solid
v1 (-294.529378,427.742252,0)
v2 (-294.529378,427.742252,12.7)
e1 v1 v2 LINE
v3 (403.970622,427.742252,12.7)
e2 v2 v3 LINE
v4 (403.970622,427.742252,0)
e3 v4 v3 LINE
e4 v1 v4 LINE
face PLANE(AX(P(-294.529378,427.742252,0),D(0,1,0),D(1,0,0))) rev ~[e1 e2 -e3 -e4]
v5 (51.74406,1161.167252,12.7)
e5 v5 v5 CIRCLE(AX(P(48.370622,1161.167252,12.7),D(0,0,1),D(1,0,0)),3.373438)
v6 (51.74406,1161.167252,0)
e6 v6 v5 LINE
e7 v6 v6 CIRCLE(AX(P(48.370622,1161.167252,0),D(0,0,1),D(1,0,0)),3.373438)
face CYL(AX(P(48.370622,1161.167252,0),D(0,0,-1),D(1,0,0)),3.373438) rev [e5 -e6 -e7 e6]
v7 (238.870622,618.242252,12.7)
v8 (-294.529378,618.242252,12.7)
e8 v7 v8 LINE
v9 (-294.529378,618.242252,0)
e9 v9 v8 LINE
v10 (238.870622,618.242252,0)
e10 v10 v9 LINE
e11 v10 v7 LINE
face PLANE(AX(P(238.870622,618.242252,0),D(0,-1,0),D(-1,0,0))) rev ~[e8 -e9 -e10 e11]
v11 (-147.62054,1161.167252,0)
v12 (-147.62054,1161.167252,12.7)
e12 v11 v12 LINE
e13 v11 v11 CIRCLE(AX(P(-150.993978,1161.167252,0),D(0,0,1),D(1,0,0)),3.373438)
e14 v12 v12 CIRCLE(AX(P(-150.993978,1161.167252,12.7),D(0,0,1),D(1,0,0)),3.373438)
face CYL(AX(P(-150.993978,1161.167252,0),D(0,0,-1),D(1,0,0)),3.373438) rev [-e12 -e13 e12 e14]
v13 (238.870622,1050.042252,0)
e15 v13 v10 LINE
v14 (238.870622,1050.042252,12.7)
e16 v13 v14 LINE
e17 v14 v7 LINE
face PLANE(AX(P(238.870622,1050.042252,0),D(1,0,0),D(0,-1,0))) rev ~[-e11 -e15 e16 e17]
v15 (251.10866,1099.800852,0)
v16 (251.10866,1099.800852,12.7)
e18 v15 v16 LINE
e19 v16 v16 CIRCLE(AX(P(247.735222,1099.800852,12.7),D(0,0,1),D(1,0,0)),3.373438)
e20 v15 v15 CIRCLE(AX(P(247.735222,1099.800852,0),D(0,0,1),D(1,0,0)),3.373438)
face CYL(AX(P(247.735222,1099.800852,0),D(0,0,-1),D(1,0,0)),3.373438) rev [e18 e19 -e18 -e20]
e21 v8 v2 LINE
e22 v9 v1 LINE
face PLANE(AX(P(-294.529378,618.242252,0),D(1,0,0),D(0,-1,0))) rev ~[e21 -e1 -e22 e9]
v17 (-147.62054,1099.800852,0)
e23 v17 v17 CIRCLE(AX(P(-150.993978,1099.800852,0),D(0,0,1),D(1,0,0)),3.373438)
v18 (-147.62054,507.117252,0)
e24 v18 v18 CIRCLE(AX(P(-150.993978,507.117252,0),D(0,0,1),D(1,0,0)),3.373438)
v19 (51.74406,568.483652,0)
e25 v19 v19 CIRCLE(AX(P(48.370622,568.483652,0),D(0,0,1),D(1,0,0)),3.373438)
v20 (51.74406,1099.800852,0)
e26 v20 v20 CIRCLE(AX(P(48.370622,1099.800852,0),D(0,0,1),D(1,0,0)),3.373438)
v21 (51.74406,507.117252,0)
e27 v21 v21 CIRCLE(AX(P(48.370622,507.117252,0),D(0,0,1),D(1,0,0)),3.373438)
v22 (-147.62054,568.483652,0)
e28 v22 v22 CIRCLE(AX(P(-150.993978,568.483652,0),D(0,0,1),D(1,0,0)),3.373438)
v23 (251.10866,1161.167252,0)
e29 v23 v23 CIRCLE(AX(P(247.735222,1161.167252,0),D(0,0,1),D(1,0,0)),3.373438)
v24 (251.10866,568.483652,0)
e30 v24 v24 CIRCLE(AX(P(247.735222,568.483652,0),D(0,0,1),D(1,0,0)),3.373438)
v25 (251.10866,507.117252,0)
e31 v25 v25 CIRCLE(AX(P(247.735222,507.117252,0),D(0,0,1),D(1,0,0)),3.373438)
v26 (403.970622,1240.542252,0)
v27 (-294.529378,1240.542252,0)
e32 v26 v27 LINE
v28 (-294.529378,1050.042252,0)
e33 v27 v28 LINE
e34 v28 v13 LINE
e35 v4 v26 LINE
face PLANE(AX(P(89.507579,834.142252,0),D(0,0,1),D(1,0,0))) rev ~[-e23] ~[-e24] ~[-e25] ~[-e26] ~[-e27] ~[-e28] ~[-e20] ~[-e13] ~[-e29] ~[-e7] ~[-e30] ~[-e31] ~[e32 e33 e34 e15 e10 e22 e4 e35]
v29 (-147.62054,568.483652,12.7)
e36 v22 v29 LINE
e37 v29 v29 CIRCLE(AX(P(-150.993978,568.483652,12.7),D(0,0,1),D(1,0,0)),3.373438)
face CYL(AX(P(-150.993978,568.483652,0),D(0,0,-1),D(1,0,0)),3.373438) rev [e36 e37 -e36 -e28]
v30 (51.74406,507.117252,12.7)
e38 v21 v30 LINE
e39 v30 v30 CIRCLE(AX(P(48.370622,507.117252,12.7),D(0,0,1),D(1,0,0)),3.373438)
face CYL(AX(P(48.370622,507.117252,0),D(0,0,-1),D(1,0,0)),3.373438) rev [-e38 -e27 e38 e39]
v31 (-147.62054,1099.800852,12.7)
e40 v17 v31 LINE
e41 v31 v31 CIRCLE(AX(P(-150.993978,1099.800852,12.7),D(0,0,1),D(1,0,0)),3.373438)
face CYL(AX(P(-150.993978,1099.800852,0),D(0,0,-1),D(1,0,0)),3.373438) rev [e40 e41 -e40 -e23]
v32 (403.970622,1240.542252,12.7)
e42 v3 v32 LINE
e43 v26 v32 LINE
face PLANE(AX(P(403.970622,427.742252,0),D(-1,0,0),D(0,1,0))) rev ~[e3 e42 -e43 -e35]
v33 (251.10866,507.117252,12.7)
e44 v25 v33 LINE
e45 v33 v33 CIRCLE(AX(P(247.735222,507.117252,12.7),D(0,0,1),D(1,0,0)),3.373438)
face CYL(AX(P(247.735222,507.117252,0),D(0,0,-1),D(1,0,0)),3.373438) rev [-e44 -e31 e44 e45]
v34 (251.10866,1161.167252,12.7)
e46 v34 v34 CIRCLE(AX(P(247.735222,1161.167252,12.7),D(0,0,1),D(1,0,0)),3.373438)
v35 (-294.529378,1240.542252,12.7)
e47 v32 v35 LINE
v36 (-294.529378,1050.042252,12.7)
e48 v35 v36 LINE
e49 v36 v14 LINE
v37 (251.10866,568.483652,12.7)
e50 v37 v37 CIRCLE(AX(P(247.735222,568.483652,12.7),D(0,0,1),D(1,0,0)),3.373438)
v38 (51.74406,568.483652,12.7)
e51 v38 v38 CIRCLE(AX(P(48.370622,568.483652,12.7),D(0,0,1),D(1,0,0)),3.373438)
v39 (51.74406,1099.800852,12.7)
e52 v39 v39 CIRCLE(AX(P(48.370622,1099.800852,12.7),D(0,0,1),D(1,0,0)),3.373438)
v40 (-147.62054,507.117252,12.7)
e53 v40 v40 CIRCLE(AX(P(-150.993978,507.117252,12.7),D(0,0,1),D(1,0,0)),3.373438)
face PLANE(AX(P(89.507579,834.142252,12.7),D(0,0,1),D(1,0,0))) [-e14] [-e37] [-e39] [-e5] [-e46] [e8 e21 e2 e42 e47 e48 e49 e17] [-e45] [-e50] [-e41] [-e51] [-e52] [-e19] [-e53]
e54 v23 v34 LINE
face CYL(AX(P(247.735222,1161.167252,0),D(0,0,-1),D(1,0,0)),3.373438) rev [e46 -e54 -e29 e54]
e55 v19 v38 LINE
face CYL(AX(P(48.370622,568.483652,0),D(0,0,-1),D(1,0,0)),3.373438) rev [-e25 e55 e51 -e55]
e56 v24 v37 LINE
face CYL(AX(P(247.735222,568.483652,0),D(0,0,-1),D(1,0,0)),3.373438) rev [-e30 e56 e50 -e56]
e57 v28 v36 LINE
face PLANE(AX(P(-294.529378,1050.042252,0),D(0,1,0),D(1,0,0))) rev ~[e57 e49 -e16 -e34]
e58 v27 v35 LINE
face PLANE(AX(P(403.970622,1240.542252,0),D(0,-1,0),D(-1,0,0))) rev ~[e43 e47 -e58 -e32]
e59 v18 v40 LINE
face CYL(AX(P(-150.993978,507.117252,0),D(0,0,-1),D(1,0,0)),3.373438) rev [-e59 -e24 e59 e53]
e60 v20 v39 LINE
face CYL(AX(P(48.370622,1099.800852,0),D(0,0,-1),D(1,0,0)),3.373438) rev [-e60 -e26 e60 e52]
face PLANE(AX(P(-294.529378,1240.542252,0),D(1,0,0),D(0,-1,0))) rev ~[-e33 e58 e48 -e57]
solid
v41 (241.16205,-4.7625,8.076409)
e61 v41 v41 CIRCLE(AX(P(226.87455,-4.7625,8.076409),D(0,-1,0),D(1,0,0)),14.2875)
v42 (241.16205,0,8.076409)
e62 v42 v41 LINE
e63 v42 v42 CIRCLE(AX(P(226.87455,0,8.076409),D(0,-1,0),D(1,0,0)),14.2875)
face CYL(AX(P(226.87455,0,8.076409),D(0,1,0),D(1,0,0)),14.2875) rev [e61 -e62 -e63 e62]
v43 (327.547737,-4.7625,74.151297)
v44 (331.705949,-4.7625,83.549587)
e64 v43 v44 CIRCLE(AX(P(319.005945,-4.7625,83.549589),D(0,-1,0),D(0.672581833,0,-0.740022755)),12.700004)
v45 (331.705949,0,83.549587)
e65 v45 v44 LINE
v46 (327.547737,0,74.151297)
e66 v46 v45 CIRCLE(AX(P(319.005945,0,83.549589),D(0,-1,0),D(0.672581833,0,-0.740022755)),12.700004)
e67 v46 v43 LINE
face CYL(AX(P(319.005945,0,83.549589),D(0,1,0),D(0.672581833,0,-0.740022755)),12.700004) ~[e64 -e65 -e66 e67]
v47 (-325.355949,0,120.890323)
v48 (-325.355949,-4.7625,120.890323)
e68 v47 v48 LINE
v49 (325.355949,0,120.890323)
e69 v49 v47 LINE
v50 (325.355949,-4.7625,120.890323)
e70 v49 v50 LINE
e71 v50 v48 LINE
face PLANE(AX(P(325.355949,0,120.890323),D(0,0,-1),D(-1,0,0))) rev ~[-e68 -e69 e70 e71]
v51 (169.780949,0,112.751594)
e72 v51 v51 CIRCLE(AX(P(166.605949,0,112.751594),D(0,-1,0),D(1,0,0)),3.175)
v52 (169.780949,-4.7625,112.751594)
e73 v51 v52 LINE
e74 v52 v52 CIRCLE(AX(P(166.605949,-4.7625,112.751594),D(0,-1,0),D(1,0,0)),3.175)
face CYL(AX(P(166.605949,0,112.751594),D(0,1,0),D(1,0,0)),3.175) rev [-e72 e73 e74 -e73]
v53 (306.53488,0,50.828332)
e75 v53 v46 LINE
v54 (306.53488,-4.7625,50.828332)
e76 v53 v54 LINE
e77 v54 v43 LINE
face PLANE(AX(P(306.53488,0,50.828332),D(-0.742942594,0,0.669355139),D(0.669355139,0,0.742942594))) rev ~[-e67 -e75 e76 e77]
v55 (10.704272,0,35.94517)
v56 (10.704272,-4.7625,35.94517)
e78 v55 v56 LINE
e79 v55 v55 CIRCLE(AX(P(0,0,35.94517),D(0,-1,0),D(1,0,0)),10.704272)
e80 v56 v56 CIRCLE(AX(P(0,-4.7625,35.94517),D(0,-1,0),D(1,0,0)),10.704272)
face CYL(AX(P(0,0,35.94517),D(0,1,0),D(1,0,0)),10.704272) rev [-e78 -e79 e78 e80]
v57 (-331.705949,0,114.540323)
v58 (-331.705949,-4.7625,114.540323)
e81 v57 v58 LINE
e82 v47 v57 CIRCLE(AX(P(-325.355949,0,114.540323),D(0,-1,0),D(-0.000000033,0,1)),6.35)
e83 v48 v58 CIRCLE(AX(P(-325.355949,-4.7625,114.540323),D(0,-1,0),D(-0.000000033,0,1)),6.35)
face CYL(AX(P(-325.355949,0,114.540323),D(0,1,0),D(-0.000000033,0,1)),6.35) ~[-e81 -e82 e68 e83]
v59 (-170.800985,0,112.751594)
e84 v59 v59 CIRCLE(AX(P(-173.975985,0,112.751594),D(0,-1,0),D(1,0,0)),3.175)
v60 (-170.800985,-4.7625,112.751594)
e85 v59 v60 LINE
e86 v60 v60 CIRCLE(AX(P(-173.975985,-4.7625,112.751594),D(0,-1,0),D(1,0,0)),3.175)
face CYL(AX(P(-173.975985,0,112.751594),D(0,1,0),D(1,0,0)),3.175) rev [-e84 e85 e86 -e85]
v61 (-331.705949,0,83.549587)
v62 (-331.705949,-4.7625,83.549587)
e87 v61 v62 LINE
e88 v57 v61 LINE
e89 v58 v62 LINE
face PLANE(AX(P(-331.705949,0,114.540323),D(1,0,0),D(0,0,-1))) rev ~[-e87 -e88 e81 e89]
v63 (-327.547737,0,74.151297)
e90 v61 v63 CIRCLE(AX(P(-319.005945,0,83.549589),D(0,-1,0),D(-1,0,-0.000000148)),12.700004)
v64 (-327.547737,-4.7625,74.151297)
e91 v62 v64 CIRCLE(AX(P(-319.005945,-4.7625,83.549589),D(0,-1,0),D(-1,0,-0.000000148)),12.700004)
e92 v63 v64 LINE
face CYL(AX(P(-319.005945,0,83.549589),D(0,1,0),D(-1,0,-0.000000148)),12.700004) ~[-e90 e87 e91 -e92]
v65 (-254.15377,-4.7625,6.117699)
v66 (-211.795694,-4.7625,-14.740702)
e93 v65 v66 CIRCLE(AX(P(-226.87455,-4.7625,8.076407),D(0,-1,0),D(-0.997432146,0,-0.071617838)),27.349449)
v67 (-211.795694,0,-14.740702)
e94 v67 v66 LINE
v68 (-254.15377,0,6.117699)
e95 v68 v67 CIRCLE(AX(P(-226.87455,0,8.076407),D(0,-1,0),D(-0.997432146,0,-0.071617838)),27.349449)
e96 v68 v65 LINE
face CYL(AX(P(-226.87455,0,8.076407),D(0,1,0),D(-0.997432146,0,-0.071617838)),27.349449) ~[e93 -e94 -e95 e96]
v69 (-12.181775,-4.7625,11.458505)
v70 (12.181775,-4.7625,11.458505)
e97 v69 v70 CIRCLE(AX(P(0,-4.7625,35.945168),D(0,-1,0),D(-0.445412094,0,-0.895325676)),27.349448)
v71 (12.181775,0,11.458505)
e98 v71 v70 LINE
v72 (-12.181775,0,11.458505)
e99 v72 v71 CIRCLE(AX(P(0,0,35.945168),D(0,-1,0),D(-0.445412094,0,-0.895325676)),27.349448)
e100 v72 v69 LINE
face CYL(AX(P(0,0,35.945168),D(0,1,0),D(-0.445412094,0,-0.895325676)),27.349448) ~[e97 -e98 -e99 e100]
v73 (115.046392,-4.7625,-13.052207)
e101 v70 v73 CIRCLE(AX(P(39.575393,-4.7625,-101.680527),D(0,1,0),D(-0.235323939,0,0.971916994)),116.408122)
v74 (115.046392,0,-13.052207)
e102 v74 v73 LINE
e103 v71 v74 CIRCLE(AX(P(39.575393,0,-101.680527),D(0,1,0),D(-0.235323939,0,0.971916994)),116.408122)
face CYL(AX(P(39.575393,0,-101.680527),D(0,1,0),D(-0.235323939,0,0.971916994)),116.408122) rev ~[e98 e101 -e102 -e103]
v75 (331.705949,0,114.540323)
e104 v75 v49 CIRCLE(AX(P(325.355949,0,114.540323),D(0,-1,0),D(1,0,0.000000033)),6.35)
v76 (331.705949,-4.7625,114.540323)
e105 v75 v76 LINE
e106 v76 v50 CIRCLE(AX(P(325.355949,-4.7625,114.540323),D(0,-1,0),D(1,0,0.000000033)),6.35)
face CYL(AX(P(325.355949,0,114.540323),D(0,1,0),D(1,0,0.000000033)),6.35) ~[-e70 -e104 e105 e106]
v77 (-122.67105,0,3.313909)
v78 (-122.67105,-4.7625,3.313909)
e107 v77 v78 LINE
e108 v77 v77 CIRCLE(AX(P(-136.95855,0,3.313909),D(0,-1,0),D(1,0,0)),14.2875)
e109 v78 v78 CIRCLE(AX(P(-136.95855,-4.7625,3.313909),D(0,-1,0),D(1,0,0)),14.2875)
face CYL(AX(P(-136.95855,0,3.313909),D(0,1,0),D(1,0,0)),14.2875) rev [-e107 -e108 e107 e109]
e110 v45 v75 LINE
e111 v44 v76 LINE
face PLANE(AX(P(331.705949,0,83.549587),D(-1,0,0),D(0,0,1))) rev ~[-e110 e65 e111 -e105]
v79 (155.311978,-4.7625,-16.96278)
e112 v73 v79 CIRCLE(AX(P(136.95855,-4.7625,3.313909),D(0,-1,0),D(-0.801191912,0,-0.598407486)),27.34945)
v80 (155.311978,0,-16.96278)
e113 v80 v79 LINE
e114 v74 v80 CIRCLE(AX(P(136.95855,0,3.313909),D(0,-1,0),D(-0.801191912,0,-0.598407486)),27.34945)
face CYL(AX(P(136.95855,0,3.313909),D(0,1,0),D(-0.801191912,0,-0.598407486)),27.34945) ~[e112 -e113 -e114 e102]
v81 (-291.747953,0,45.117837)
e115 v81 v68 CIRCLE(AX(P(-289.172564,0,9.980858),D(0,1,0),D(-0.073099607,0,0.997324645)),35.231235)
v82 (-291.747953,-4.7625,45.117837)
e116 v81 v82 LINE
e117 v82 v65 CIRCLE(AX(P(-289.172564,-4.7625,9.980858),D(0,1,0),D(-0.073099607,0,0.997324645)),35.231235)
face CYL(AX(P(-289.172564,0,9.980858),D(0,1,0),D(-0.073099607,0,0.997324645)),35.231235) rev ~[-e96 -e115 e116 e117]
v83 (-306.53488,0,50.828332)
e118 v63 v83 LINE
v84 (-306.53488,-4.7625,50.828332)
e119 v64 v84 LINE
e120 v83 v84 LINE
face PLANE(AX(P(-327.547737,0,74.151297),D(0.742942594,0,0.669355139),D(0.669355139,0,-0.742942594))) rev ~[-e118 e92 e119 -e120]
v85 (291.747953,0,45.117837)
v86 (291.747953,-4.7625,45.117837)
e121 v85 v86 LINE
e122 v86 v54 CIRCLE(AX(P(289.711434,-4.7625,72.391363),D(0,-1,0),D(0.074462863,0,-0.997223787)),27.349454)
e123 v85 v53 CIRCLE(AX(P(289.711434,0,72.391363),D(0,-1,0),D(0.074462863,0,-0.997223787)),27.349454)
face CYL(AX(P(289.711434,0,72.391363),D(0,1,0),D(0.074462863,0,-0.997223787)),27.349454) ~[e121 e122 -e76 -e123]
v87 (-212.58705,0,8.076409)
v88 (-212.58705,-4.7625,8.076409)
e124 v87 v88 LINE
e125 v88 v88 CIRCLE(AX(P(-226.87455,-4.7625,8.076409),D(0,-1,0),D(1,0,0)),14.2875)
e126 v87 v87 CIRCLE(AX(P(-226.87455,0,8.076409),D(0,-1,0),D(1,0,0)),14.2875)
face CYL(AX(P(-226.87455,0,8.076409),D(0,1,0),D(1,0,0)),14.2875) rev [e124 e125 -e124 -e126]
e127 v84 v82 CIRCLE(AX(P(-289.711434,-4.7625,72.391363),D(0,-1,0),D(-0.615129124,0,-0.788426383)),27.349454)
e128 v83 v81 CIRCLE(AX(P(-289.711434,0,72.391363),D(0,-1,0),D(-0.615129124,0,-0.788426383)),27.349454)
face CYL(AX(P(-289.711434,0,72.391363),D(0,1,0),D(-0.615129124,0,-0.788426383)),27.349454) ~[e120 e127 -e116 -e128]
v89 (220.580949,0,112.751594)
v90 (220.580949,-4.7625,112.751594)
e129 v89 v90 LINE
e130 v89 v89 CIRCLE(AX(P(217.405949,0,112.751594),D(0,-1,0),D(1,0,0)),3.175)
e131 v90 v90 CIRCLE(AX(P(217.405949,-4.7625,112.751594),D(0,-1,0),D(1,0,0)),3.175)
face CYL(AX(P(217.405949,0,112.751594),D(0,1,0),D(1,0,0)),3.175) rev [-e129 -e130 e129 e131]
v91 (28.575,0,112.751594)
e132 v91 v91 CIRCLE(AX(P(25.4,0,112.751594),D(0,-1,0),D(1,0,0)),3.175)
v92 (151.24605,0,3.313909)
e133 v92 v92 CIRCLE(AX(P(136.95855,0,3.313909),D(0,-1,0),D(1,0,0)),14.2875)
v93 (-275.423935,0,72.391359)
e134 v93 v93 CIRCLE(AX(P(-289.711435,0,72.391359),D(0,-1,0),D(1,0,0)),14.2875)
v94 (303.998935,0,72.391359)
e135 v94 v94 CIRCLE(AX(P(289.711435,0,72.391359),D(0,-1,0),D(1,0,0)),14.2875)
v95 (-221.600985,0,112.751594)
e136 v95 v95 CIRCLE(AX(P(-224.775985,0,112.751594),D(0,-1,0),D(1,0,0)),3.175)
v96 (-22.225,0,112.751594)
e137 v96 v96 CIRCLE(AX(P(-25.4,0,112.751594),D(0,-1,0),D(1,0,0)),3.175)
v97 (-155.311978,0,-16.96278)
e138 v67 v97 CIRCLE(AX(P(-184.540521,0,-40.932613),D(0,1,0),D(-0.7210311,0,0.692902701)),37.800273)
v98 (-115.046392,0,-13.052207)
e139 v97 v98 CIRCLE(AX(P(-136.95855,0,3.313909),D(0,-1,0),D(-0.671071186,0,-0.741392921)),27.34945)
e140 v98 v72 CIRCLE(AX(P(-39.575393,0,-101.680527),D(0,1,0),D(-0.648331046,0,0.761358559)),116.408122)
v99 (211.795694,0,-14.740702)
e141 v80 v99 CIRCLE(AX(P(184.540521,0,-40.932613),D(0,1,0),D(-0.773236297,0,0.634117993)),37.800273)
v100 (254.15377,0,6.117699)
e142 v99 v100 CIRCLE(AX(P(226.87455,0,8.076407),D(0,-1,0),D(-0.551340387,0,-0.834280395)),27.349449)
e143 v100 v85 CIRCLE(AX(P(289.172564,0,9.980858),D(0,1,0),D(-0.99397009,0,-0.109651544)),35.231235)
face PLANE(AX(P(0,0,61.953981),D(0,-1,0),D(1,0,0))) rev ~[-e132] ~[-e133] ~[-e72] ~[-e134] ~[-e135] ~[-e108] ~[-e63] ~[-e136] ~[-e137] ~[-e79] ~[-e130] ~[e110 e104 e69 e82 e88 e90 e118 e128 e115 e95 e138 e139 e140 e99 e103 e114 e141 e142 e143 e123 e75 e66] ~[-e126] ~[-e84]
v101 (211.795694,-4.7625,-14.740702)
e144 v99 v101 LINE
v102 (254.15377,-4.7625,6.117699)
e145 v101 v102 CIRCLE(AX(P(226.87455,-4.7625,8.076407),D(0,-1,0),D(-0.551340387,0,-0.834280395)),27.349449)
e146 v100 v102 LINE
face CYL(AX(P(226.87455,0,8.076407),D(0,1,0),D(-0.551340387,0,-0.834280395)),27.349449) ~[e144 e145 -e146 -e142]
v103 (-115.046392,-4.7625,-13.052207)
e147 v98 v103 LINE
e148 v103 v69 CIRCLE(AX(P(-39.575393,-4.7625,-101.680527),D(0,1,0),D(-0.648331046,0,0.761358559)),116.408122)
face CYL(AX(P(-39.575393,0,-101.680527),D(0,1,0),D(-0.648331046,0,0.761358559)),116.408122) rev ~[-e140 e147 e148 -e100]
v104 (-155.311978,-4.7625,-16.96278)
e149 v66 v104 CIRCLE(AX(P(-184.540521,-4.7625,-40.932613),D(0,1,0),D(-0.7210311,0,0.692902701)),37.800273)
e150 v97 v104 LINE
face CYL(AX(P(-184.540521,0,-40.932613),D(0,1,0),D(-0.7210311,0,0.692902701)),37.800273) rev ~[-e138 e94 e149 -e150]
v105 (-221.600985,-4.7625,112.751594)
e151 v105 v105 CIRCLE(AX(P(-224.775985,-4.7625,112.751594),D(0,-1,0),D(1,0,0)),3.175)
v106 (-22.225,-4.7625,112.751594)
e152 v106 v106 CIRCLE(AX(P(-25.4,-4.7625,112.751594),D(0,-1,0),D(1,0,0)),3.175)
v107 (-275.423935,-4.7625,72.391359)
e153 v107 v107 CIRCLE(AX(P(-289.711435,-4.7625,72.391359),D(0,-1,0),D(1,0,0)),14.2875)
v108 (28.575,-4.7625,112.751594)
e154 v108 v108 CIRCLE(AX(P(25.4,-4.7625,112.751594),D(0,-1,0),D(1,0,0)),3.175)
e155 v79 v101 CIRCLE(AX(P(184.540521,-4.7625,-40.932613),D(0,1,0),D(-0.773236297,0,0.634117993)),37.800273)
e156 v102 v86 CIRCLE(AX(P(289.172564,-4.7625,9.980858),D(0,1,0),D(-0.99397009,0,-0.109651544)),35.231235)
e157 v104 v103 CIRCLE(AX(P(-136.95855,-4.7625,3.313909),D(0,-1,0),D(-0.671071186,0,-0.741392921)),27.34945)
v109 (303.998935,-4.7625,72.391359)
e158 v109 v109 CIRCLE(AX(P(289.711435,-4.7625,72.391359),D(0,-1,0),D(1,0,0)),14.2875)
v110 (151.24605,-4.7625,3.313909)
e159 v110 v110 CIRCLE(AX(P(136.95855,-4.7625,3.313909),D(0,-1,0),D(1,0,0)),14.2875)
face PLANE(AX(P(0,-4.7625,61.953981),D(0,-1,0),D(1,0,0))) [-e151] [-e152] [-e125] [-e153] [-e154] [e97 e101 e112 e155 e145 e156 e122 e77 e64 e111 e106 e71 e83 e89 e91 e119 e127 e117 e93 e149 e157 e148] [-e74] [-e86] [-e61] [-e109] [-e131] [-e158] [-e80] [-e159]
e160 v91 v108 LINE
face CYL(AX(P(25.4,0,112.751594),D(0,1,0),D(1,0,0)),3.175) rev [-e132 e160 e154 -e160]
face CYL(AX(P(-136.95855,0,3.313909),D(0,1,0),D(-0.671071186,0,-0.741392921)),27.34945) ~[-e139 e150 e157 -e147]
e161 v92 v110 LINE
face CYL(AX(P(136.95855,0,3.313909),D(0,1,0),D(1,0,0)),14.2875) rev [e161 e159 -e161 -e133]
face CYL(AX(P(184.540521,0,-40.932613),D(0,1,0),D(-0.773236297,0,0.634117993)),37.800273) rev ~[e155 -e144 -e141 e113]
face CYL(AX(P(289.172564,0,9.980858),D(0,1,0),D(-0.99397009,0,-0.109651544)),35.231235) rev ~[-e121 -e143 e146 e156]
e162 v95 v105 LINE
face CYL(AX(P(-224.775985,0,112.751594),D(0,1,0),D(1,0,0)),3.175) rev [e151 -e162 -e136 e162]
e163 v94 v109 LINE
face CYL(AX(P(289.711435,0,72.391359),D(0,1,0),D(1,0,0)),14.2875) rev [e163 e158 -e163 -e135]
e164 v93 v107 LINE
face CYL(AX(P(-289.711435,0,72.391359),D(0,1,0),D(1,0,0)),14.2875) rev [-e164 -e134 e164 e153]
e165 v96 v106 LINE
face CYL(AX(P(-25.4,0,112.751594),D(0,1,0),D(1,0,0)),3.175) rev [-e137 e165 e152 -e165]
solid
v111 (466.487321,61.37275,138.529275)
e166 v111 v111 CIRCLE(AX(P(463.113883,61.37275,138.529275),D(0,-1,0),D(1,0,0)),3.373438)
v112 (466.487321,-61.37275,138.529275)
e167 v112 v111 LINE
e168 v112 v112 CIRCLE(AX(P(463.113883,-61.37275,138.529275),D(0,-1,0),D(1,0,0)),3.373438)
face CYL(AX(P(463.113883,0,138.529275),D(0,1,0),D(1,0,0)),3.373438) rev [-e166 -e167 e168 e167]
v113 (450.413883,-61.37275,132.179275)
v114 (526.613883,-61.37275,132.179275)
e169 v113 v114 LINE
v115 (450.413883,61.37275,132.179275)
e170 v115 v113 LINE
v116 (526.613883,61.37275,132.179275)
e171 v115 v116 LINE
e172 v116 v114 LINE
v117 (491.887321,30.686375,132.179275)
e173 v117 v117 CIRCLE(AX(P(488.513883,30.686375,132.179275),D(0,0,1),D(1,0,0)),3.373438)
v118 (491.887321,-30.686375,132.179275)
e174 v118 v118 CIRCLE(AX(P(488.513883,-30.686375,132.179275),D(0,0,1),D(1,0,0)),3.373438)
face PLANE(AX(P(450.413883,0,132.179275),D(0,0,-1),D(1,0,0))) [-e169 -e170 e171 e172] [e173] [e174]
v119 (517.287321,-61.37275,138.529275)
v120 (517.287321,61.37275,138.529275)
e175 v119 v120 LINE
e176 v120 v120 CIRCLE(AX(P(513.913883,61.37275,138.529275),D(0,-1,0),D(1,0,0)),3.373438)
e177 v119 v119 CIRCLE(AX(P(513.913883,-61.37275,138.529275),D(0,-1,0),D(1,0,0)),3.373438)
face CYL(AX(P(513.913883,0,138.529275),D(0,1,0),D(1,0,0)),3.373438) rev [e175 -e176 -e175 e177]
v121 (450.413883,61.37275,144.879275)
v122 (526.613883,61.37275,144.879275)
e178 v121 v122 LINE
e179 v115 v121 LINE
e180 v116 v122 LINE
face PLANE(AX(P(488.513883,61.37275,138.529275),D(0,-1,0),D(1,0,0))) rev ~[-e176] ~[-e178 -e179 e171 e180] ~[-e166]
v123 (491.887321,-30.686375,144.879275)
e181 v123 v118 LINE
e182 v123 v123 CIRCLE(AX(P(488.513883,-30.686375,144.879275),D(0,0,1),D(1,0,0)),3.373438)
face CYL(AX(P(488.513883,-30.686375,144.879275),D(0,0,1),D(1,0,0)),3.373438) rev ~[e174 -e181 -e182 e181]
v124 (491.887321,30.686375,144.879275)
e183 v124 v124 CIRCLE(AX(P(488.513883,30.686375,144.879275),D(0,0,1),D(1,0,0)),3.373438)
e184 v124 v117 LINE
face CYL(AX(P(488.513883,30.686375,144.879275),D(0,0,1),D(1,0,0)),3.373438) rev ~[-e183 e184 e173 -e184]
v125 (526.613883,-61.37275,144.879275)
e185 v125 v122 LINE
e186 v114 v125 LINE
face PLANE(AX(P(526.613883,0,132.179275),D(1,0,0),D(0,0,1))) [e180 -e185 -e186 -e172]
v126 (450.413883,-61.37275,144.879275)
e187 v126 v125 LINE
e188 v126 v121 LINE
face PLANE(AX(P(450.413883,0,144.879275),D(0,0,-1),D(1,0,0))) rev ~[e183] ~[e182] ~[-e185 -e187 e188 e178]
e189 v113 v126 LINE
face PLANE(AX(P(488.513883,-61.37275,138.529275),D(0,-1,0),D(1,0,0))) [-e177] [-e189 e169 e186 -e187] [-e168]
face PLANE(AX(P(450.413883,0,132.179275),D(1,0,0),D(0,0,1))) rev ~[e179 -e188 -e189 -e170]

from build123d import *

# Parameters (mm, degrees)
F0_R     = 14.2875
F0_R_2   = 10.704272
F0_R_3   = 3.175
F1_DEPTH = 4.7625
F0_W     = 76.2
F0_H     = 12.7
F0_R_4   = 3.373438
F2_DEPTH = 61.37275
F3_R     = 3.373438
F4_DEPTH = 168.915817
F5_R     = 3.373438
F6_DEPTH = 12.7


with BuildPart() as f1:
    # F0 (on Front) → F1 (new body)
    with BuildSketch(Plane.XZ):
        with BuildLine():
            Line((306.53488, 50.828332), (327.547737, 74.151297))
            ThreePointArc((327.547737, 74.151297), (330.619964, 78.411042), (331.705949, 83.549587))
            Line((331.705949, 83.549587), (331.705949, 114.540323))
            ThreePointArc((331.705949, 114.540323), (329.846077, 119.030451), (325.355949, 120.890323))
            Line((325.355949, 120.890323), (0, 120.890323))
            Line((0, 120.890323), (-325.355949, 120.890323))
            ThreePointArc((-325.355949, 120.890323), (-329.846077, 119.030451), (-331.705949, 114.540323))
            Line((-331.705949, 114.540323), (-331.705949, 83.549587))
            ThreePointArc((-331.705949, 83.549587), (-330.619964, 78.411042), (-327.547737, 74.151297))
            Line((-327.547737, 74.151297), (-306.53488, 50.828332))
            ThreePointArc((-306.53488, 50.828332), (-299.564201, 46.878315), (-291.747953, 45.117837))
            ThreePointArc((-291.747953, 45.117837), (-263.807306, 34.431699), (-254.15377, 6.117699))
            ThreePointArc((-254.15377, 6.117699), (-238.956787, -16.459524), (-211.795694, -14.740702))
            ThreePointArc((-211.795694, -14.740702), (-183.054602, -3.161557), (-155.311978, -16.96278))
            ThreePointArc((-155.311978, -16.96278), (-134.314824, -23.907464), (-115.046392, -13.052207))
            ThreePointArc((-115.046392, -13.052207), (-66.557839, 11.557269), (-12.181775, 11.458505))
            ThreePointArc((-12.181775, 11.458505), (0, 8.59572), (12.181775, 11.458505))
            ThreePointArc((12.181775, 11.458505), (66.557839, 11.557269), (115.046392, -13.052207))
            ThreePointArc((115.046392, -13.052207), (134.314824, -23.907464), (155.311978, -16.96278))
            ThreePointArc((155.311978, -16.96278), (183.054602, -3.161557), (211.795694, -14.740702))
            ThreePointArc((211.795694, -14.740702), (238.956787, -16.459524), (254.15377, 6.117699))
            ThreePointArc((254.15377, 6.117699), (263.807306, 34.431699), (291.747953, 45.117837))
            ThreePointArc((291.747953, 45.117837), (299.564201, 46.878315), (306.53488, 50.828332))
        make_face()
        with Locations((-226.87455, 8.076409)):
            Circle(F0_R, mode=Mode.SUBTRACT)
        with Locations((-136.95855, 3.313909)):
            Circle(F0_R, mode=Mode.SUBTRACT)
        with Locations((0, 35.94517)):
            Circle(F0_R_2, mode=Mode.SUBTRACT)
        with Locations((136.95855, 3.313909)):
            Circle(F0_R, mode=Mode.SUBTRACT)
        with Locations((226.87455, 8.076409)):
            Circle(F0_R, mode=Mode.SUBTRACT)
        with Locations((-289.711435, 72.391359)):
            Circle(F0_R, mode=Mode.SUBTRACT)
        with Locations((-224.775985, 112.751594)):
            Circle(F0_R_3, mode=Mode.SUBTRACT)
        with Locations((-173.975985, 112.751594)):
            Circle(F0_R_3, mode=Mode.SUBTRACT)
        with Locations((-25.4, 112.751594)):
            Circle(F0_R_3, mode=Mode.SUBTRACT)
        with Locations((25.4, 112.751594)):
            Circle(F0_R_3, mode=Mode.SUBTRACT)
        with Locations((289.711435, 72.391359)):
            Circle(F0_R, mode=Mode.SUBTRACT)
        with Locations((166.605949, 112.751594)):
            Circle(F0_R_3, mode=Mode.SUBTRACT)
        with Locations((217.405949, 112.751594)):
            Circle(F0_R_3, mode=Mode.SUBTRACT)
    extrude(amount=F1_DEPTH)


with BuildPart() as f2:
    # F0 (on Front) → F2 (new body, symmetric)
    with BuildSketch(Plane.XZ):
        with Locations((488.513883, 138.529275)):
            Rectangle(F0_W, F0_H)
        with Locations((463.113883, 138.529275)):
            Circle(F0_R_4, mode=Mode.SUBTRACT)
        with Locations((513.913883, 138.529275)):
            Circle(F0_R_4, mode=Mode.SUBTRACT)
    extrude(amount=F2_DEPTH, both=True)

    # F3 (on face) → F4 (cut, through all)
    with BuildSketch(Plane.XY.offset(144.879275)):
        with Locations((488.513883, -30.686375)):
            Circle(F3_R)
        with Locations((488.513883, 30.686375)):
            Circle(F3_R)
    extrude(amount=-F4_DEPTH, mode=Mode.SUBTRACT)


with BuildPart() as f6:
    # F5 (on Top) → F6 (new body)
    with BuildSketch(Plane.XY):
        Polygon((403.970622, 1240.542252), (-294.529378, 1240.542252), (-294.529378, 1050.042252), (238.870622, 1050.042252), (238.870622, 618.242252), (-294.529378, 618.242252), (-294.529378, 427.742252), (403.970622, 427.742252), align=None)
        with Locations((-150.993978, 507.117252)):
            Circle(F5_R, mode=Mode.SUBTRACT)
        with Locations((-150.993978, 568.483652)):
            Circle(F5_R, mode=Mode.SUBTRACT)
        with Locations((48.370622, 507.117252)):
            Circle(F5_R, mode=Mode.SUBTRACT)
        with Locations((48.370622, 568.483652)):
            Circle(F5_R, mode=Mode.SUBTRACT)
        with Locations((247.735222, 507.117252)):
            Circle(F5_R, mode=Mode.SUBTRACT)
        with Locations((247.735222, 568.483652)):
            Circle(F5_R, mode=Mode.SUBTRACT)
        with Locations((-150.993978, 1099.800852)):
            Circle(F5_R, mode=Mode.SUBTRACT)
        with Locations((-150.993978, 1161.167252)):
            Circle(F5_R, mode=Mode.SUBTRACT)
        with Locations((48.370622, 1099.800852)):
            Circle(F5_R, mode=Mode.SUBTRACT)
        with Locations((48.370622, 1161.167252)):
            Circle(F5_R, mode=Mode.SUBTRACT)
        with Locations((247.735222, 1099.800852)):
            Circle(F5_R, mode=Mode.SUBTRACT)
        with Locations((247.735222, 1161.167252)):
            Circle(F5_R, mode=Mode.SUBTRACT)
    extrude(amount=F6_DEPTH)


solid = Compound([f1.part, f2.part, f6.part])
